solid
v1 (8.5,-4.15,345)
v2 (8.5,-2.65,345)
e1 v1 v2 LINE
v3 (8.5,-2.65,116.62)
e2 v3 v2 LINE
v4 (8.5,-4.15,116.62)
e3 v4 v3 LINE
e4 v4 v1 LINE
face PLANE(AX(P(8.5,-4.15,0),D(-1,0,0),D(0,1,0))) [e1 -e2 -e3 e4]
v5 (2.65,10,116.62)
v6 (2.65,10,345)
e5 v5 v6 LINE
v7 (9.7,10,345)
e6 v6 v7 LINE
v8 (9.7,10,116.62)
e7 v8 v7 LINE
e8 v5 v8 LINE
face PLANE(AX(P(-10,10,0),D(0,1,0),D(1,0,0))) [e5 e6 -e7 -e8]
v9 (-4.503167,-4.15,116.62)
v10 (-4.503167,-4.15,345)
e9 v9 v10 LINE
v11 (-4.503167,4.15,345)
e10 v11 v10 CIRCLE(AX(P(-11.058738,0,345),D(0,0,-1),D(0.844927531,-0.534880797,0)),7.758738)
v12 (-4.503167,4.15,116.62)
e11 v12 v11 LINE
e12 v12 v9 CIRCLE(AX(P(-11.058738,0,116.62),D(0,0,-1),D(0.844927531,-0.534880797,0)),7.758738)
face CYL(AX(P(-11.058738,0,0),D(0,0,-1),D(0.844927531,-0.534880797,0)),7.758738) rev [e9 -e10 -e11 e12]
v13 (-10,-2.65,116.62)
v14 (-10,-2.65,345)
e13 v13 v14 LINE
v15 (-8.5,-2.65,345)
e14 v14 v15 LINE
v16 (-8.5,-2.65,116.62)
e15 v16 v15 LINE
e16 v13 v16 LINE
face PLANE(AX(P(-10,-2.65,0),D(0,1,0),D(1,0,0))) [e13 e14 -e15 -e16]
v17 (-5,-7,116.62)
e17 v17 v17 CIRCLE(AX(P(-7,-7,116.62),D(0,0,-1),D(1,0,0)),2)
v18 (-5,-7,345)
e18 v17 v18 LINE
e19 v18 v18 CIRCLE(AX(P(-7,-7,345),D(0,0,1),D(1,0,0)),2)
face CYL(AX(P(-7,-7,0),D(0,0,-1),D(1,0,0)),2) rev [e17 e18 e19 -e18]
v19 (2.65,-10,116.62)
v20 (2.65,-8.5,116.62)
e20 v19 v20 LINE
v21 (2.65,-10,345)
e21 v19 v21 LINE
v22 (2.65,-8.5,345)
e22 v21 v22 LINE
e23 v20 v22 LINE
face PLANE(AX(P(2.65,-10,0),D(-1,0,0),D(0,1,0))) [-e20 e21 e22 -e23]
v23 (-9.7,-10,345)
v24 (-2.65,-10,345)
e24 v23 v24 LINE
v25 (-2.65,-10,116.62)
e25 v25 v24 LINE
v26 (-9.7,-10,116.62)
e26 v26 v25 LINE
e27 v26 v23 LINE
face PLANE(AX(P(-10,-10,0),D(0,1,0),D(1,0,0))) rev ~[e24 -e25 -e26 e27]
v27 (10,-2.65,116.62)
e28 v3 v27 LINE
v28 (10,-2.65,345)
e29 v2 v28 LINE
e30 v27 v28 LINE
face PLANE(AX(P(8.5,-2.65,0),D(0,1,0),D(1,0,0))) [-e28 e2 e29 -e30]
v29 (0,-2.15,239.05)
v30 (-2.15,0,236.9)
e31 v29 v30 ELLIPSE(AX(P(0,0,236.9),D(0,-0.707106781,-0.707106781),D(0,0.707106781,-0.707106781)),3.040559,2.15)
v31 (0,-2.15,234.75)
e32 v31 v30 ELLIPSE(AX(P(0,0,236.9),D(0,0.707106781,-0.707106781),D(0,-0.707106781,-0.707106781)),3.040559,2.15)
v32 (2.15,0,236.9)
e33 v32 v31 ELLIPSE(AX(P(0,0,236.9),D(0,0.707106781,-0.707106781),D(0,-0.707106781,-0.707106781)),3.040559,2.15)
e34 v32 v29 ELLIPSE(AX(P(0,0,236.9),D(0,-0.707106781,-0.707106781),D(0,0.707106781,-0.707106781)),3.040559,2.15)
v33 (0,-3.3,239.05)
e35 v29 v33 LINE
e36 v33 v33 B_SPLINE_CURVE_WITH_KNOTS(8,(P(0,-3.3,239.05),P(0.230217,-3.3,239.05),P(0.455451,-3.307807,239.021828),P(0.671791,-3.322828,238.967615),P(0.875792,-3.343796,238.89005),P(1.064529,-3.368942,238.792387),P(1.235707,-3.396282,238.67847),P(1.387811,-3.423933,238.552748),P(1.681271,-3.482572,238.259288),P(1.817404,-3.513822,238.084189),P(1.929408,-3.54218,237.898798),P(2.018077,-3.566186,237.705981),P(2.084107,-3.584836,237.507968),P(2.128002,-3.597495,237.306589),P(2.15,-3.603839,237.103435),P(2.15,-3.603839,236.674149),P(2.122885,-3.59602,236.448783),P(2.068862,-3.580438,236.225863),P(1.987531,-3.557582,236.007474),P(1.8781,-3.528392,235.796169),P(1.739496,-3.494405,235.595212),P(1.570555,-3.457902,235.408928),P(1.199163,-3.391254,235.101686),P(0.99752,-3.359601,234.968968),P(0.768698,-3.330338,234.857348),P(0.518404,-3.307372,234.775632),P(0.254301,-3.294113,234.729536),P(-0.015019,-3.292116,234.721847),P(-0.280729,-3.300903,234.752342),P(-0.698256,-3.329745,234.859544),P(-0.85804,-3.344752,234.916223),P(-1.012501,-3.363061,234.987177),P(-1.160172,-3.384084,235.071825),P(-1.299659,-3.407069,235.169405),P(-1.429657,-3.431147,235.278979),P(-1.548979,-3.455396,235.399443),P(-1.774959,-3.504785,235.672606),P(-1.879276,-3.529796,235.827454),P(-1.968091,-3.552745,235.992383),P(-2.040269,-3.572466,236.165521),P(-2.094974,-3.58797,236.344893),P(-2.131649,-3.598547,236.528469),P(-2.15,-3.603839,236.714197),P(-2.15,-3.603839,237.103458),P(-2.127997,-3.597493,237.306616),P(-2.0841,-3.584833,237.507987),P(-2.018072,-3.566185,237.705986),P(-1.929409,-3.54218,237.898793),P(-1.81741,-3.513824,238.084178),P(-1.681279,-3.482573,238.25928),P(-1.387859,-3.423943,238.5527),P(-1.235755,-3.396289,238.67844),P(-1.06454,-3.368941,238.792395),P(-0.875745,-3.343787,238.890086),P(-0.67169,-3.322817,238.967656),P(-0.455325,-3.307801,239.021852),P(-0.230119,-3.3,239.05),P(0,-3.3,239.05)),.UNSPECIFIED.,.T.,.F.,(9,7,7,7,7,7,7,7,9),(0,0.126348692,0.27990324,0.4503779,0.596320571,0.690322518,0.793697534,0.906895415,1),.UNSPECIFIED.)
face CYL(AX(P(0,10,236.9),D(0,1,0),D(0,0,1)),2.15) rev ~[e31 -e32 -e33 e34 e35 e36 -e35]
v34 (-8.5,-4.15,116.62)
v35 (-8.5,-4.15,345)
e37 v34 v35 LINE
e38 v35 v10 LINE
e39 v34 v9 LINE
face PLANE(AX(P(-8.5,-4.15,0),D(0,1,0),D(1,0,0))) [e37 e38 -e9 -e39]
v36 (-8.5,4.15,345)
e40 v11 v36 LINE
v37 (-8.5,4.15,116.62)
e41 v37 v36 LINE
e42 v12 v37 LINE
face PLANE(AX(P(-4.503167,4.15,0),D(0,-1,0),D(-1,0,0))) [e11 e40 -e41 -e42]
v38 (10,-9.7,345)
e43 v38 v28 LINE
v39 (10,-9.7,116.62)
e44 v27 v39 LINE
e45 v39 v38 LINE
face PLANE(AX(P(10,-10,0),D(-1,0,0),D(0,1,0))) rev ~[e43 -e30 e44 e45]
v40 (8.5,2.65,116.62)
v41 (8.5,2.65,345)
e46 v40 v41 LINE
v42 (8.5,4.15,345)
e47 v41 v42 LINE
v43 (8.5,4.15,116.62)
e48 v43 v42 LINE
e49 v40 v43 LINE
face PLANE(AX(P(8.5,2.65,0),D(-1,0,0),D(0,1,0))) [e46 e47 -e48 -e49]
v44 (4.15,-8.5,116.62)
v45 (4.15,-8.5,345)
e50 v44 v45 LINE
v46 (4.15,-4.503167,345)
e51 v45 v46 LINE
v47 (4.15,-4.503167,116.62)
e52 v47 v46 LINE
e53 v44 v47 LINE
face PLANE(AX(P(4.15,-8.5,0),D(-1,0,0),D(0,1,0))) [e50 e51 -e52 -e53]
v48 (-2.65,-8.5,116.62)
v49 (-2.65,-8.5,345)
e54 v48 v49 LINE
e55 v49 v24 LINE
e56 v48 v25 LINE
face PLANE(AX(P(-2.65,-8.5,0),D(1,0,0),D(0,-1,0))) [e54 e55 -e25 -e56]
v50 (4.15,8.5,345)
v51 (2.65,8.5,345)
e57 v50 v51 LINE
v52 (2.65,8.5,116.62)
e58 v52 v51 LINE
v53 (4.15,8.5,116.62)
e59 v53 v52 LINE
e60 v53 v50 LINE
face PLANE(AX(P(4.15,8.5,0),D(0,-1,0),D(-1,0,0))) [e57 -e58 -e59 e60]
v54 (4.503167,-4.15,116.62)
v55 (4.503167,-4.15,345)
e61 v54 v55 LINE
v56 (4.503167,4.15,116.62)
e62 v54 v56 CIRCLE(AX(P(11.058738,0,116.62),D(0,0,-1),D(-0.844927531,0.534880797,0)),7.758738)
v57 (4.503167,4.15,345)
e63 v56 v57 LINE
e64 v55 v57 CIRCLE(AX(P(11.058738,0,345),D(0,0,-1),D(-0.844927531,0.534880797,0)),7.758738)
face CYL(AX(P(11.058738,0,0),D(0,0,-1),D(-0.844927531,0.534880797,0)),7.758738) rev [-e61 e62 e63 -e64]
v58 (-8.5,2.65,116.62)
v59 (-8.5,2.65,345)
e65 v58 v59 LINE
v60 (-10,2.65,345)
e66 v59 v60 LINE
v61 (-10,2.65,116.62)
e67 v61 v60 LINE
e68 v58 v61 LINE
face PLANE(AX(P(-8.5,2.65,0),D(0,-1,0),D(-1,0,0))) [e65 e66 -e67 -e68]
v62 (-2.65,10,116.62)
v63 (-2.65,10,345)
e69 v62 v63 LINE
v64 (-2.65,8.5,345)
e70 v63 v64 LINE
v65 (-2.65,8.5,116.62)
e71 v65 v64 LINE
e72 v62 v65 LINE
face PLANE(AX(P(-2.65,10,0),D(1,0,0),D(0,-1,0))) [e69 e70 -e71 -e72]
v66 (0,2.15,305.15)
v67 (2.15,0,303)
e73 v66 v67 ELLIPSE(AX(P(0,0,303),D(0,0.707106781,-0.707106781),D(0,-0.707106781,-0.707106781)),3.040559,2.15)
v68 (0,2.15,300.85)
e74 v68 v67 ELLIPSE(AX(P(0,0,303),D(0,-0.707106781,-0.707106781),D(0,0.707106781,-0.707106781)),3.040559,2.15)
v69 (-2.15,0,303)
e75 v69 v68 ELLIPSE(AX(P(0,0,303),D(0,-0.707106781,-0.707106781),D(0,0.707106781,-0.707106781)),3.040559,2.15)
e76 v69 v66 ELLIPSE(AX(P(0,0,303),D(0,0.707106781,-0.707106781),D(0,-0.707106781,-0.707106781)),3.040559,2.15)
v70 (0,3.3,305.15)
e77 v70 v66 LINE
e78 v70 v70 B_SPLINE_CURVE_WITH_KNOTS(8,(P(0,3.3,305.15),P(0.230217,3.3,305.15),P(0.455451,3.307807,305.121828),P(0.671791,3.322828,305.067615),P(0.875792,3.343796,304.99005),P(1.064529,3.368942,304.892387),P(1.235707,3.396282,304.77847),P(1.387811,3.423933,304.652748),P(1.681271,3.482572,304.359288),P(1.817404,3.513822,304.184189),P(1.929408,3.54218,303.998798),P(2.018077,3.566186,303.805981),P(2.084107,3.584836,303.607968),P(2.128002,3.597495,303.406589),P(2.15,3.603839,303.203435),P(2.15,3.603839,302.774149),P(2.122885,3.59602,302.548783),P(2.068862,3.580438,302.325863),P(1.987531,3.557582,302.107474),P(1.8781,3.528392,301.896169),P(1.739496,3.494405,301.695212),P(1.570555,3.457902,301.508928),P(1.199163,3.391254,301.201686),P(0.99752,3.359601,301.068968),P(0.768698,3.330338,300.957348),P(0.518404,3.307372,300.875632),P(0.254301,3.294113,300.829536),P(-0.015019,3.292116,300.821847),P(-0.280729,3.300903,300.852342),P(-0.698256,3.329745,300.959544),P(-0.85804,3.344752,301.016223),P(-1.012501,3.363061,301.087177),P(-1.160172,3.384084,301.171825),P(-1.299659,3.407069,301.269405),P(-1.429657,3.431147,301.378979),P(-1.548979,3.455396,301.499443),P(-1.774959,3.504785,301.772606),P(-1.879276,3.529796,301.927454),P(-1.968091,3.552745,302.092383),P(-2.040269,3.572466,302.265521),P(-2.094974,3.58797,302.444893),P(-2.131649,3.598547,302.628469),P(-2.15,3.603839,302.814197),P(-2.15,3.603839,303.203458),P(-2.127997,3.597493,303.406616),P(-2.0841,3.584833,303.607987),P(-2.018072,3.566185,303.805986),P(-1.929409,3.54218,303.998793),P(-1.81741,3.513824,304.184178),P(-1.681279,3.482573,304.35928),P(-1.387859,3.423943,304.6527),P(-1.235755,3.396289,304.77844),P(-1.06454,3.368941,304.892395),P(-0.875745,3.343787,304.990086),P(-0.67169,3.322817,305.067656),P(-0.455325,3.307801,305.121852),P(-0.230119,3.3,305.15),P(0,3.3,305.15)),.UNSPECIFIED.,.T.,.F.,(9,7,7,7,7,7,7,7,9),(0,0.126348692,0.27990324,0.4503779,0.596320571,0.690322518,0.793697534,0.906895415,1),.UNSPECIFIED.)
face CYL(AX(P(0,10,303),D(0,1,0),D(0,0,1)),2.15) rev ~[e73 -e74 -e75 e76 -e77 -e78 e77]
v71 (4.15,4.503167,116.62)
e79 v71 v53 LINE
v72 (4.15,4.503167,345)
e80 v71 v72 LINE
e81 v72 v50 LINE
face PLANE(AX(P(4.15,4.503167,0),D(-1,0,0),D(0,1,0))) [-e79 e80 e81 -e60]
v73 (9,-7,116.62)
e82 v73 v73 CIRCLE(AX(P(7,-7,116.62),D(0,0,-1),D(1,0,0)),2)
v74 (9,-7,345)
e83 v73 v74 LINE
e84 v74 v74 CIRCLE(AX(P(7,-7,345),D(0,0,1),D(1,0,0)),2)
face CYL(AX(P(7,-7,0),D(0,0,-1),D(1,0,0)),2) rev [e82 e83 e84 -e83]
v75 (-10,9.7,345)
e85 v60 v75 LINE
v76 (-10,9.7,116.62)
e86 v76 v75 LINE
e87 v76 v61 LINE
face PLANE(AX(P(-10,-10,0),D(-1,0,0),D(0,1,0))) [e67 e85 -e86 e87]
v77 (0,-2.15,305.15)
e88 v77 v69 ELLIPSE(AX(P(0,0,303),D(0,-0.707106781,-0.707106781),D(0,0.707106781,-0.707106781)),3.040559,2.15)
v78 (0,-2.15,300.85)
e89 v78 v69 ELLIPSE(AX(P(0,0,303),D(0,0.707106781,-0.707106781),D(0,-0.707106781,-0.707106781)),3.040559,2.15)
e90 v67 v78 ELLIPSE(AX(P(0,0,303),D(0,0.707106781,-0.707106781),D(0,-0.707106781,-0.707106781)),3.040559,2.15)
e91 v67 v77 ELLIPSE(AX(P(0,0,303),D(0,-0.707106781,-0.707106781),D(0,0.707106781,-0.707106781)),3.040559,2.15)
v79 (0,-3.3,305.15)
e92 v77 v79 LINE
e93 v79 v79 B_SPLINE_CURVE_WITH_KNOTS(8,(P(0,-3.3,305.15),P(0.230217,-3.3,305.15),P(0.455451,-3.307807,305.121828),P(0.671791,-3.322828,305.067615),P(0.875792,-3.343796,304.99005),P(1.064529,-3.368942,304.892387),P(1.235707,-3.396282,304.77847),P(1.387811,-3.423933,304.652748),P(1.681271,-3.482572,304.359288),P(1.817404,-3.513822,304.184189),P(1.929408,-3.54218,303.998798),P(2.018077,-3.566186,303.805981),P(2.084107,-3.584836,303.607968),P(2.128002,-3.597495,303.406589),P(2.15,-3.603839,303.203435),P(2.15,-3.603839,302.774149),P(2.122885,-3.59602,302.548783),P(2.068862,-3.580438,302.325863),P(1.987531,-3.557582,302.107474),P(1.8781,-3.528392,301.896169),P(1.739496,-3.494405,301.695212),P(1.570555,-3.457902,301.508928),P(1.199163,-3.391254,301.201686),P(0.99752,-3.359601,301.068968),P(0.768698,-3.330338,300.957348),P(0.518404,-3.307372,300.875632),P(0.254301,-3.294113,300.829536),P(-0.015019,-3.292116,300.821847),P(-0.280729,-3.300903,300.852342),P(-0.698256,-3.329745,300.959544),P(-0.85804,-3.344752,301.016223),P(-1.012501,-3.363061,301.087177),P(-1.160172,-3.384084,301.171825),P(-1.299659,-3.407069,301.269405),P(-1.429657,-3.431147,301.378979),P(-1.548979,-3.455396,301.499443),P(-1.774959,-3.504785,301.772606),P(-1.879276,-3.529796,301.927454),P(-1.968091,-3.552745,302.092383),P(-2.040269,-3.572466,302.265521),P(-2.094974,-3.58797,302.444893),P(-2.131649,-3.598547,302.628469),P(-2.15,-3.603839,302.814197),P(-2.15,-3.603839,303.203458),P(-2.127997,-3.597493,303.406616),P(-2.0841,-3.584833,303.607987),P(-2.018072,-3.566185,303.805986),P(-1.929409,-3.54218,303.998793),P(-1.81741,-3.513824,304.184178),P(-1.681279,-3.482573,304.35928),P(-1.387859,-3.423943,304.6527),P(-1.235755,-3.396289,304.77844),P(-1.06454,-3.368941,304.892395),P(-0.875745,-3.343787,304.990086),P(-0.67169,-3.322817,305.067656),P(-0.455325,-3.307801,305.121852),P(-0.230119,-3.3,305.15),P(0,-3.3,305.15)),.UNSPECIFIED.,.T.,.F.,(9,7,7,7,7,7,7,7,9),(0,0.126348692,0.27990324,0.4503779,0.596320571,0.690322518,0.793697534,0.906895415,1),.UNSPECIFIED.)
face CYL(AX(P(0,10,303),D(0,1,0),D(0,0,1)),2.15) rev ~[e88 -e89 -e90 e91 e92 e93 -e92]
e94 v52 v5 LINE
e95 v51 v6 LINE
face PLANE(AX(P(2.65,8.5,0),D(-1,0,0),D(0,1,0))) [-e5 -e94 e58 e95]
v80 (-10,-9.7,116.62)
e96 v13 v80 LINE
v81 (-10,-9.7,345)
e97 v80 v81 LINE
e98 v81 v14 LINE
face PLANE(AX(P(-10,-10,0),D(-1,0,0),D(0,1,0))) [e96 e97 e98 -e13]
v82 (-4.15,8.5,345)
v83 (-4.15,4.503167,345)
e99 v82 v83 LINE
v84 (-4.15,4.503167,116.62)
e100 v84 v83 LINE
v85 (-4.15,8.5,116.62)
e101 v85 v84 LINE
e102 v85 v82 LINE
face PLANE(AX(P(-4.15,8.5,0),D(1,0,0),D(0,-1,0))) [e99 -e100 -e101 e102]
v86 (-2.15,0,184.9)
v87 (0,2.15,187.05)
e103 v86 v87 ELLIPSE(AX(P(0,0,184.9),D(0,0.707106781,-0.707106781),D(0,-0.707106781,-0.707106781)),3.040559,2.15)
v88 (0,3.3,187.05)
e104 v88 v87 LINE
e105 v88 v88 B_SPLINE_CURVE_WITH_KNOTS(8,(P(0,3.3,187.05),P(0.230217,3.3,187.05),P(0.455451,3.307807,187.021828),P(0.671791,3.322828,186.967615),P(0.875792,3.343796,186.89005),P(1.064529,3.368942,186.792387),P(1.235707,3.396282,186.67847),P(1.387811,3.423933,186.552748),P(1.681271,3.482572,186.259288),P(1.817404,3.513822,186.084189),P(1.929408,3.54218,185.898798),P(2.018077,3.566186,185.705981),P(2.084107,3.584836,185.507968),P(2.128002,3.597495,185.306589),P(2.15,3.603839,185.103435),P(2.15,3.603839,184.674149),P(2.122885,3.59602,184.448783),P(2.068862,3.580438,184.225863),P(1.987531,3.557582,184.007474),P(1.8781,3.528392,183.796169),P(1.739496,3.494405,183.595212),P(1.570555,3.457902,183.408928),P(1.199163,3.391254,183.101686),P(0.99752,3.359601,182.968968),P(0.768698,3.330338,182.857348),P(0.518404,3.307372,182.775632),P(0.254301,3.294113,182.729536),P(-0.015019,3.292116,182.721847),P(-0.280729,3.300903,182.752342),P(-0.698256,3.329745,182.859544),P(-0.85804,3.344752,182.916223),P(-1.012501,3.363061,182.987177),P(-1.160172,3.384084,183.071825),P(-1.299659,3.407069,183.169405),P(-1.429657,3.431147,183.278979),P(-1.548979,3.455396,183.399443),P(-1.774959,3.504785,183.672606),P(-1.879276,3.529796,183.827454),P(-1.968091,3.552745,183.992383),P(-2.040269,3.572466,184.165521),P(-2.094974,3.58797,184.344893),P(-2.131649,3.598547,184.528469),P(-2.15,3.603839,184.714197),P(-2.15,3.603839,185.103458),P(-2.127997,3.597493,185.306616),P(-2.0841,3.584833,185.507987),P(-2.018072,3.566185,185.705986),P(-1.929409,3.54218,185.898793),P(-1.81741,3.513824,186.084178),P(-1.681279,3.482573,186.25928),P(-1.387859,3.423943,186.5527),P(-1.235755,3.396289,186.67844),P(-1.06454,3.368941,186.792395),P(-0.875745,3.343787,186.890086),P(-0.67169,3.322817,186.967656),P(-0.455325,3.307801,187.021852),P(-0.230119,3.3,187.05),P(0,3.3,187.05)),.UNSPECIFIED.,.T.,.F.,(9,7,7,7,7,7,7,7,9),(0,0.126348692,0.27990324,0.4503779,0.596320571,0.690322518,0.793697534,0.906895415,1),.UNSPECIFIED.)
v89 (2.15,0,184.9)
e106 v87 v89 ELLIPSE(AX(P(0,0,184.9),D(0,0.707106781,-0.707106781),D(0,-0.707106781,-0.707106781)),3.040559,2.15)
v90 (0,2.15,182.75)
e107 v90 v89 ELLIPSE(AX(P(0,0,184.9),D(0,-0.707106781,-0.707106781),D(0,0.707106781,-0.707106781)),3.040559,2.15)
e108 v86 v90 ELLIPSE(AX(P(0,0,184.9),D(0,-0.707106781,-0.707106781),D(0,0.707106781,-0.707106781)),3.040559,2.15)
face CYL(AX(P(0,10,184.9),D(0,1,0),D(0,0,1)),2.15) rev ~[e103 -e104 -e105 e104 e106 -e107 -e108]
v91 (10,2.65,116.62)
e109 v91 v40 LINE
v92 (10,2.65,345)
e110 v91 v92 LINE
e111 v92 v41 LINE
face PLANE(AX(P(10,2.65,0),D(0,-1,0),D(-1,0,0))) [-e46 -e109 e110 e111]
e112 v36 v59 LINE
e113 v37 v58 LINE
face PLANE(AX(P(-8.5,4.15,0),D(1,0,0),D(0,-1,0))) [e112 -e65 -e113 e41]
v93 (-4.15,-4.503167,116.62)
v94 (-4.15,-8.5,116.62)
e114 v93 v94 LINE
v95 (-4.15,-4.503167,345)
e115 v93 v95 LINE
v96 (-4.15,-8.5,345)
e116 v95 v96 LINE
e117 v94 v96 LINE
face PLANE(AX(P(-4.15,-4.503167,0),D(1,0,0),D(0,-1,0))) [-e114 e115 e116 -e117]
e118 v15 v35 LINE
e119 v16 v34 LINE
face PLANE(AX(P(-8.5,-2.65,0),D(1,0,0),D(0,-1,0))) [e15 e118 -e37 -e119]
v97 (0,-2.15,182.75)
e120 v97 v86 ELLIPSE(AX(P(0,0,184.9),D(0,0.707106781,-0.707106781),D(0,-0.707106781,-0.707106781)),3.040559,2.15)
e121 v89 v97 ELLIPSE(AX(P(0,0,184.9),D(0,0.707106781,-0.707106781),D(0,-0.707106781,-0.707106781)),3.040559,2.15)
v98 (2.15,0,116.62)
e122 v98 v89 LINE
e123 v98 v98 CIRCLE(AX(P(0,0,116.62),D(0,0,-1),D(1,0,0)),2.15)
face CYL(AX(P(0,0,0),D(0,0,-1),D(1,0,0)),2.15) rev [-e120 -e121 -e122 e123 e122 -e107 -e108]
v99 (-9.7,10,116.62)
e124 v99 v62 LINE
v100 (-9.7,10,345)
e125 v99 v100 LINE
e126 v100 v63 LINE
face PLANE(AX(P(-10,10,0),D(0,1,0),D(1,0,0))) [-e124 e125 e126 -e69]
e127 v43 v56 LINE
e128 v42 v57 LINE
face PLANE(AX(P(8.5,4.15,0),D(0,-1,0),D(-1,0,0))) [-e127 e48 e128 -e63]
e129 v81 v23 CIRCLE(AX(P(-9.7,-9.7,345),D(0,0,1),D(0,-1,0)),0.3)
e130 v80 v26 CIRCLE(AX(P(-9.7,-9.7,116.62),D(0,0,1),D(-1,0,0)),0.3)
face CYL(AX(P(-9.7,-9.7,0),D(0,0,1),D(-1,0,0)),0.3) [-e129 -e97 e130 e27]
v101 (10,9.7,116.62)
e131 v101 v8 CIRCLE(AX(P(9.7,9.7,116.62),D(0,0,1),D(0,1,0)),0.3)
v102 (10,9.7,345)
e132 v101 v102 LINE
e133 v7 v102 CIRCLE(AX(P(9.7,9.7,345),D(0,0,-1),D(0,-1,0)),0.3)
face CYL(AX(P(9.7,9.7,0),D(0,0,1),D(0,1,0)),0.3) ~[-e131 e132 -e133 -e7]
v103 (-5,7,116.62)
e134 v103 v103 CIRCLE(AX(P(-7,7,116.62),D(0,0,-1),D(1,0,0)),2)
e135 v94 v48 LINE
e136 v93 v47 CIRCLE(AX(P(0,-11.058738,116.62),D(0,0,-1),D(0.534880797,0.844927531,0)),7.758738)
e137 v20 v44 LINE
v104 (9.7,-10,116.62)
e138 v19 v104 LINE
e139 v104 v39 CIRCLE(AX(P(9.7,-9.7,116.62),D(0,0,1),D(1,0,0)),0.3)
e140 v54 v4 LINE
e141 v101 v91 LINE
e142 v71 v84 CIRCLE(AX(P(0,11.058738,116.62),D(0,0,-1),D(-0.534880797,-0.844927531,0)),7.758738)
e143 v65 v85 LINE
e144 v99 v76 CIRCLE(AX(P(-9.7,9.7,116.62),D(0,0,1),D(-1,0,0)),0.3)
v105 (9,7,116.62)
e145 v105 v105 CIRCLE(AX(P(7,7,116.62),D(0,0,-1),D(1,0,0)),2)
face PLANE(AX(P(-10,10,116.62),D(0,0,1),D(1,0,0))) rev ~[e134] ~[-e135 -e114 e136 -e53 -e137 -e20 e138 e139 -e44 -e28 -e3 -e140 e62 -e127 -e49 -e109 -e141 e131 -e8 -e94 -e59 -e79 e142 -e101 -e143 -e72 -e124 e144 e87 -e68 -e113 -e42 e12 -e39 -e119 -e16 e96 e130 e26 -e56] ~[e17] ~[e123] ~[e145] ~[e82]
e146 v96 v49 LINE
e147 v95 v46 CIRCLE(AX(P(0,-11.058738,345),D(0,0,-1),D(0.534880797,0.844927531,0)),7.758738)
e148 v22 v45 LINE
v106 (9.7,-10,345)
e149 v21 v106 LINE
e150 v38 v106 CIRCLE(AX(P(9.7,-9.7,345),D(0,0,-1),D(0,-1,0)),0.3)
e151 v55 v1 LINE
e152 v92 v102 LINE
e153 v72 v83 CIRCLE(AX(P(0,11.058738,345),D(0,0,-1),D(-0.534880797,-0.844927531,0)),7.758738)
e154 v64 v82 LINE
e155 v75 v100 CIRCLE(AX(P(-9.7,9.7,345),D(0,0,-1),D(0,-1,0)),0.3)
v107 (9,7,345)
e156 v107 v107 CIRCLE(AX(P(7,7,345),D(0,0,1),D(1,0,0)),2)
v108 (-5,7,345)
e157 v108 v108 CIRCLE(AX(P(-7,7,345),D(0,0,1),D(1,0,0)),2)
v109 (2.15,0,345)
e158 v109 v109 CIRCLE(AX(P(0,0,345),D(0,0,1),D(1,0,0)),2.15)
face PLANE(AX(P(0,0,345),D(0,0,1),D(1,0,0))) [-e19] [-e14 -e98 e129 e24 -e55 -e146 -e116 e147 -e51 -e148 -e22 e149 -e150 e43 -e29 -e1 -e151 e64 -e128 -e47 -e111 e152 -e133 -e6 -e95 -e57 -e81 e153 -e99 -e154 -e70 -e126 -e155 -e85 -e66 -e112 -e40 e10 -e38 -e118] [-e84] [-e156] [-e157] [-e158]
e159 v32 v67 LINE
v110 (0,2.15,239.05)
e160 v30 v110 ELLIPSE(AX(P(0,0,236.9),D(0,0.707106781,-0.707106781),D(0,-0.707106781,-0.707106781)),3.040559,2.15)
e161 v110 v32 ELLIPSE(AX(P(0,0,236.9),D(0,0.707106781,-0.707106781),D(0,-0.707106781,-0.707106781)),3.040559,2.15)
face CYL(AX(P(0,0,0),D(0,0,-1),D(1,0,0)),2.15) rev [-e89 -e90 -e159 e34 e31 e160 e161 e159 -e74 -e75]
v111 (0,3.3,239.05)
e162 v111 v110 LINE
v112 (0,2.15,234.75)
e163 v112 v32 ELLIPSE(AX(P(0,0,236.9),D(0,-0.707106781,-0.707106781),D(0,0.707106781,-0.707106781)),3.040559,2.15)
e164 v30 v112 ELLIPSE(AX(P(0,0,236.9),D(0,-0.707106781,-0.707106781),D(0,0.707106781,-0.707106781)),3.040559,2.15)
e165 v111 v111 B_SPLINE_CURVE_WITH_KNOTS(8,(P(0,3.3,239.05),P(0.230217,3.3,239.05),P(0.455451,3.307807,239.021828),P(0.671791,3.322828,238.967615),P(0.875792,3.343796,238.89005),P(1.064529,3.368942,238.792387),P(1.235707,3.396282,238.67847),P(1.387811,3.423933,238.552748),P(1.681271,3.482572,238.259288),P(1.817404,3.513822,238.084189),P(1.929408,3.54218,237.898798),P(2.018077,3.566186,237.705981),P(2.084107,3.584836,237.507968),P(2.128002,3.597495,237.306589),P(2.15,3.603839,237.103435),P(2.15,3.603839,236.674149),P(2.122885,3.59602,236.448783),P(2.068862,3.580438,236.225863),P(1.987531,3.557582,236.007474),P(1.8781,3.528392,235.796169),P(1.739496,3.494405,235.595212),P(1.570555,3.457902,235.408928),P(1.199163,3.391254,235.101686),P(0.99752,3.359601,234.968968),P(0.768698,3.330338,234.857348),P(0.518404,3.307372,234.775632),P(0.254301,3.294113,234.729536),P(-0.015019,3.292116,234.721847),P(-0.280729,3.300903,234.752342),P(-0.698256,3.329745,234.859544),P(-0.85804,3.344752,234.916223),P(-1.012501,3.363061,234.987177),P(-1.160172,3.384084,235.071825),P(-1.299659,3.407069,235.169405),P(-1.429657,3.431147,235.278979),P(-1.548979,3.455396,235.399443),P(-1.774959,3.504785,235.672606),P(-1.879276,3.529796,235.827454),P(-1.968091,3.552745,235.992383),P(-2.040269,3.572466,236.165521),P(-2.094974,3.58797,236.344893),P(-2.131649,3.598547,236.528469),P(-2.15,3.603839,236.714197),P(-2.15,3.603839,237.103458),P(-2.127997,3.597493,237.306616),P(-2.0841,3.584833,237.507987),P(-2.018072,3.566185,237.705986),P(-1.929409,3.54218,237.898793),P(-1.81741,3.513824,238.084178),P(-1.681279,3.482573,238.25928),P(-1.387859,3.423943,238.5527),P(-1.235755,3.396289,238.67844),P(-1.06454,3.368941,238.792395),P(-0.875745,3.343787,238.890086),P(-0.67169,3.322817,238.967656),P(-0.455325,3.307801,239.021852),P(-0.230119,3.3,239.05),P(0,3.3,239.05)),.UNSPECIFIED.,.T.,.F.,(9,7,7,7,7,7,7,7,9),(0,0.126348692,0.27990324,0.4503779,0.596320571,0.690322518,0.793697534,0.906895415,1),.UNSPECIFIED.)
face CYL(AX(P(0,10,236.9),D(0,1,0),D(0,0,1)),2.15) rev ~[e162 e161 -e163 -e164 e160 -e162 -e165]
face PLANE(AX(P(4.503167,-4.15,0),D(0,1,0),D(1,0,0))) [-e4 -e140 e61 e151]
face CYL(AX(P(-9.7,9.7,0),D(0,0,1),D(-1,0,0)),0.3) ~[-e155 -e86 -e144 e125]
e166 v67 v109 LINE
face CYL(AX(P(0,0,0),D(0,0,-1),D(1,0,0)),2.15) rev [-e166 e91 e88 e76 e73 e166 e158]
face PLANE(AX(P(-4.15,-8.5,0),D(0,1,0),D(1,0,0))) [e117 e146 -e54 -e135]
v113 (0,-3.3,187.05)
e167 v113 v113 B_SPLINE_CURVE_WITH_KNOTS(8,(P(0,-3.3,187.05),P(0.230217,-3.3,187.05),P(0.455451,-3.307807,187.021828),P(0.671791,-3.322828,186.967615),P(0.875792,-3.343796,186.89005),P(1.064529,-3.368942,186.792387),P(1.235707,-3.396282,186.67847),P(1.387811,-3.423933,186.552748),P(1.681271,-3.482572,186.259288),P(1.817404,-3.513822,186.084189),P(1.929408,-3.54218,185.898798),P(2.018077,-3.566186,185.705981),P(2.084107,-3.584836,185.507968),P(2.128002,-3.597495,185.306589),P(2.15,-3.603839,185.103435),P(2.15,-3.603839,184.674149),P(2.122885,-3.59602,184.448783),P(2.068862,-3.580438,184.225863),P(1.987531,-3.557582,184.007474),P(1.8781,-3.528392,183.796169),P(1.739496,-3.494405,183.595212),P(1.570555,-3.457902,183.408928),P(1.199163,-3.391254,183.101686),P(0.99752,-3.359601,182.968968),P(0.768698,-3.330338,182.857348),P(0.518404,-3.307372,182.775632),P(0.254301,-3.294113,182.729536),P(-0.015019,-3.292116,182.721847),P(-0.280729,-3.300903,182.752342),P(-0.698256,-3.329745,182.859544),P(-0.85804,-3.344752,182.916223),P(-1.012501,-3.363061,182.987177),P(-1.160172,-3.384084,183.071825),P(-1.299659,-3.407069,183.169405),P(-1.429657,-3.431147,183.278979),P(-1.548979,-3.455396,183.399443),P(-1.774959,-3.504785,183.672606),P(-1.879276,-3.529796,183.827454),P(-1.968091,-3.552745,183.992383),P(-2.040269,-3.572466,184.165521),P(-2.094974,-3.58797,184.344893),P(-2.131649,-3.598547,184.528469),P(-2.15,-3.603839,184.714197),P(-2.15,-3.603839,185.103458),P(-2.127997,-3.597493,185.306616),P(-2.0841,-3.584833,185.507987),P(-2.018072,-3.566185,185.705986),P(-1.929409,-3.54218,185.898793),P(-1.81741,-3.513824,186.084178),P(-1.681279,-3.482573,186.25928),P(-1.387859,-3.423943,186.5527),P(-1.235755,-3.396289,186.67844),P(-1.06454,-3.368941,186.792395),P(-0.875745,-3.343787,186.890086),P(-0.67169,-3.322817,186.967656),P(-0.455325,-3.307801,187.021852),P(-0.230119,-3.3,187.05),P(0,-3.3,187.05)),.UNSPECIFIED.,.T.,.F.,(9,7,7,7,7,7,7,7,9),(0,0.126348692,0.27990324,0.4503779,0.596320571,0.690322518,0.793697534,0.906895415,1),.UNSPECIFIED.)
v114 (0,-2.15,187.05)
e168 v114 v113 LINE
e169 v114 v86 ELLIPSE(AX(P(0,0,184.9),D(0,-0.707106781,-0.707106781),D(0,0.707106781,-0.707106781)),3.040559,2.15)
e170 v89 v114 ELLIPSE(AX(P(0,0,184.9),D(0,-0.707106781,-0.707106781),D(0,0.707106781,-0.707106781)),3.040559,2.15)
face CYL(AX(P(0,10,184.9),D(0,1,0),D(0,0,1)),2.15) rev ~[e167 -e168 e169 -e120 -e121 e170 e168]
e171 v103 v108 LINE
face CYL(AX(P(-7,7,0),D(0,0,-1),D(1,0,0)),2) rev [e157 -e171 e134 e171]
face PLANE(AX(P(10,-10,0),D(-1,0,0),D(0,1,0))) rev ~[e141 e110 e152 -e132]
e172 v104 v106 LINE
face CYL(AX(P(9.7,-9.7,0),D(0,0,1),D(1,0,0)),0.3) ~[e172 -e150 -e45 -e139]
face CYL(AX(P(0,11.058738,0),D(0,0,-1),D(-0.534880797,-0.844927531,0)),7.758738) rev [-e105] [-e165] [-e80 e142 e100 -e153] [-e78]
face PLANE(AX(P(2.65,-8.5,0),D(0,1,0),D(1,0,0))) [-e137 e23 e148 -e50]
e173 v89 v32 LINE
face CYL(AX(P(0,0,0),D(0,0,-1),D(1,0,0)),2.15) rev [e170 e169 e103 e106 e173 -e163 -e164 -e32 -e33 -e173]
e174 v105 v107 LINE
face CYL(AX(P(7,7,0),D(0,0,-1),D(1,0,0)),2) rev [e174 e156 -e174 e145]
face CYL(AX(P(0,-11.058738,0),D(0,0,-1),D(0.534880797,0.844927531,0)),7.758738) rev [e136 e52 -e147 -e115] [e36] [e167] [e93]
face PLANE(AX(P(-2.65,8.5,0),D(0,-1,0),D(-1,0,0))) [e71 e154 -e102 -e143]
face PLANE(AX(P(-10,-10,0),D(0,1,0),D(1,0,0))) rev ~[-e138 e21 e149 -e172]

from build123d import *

# Parameters (mm, degrees)
SKETCH_1_W               = 20
SKETCH_1_H               = 20
SKETCH_1_R               = 2
SKETCH_1_R_2             = 2.15
EXTRUDE_1_DEPTH          = 345
CUT_EXTRUDE_1_REACH      = 347.29
PATTERN_CIRCULAR_1_COUNT = 4
FILLET_1_R               = 0.3
CUT_EXTRUDE_2_DEPTH      = 346.289733412
CUT_EXTRUDE_2_DEPTH_BACK = 346.289733412
SKETCH_2_R               = 2.5
SKETCH_4_R               = 2.15
CUT_EXTRUDE_3_DEPTH      = 346.723878361
SKETCH_6_R               = 2.15
SKETCH_6_R_2             = 1.97965
CUT_EXTRUDE_4_DEPTH      = 346.723878361
SKETCH_7_W               = 20
SKETCH_7_H               = 116.62
CUT_EXTRUDE_5_DEPTH      = 346.723878361


with BuildPart() as part:
    # 스케치1 → 보스-돌출1 (new body)
    with BuildSketch(Plane.XY):
        Rectangle(SKETCH_1_W, SKETCH_1_H)
        with Locations((-7, -7)):
            Circle(SKETCH_1_R, mode=Mode.SUBTRACT)
        with Locations((7, -7)):
            Circle(SKETCH_1_R, mode=Mode.SUBTRACT)
        with Locations((-7, 7)):
            Circle(SKETCH_1_R, mode=Mode.SUBTRACT)
        Circle(SKETCH_1_R_2, mode=Mode.SUBTRACT)
        with Locations((7, 7)):
            Circle(SKETCH_1_R, mode=Mode.SUBTRACT)
    extrude(amount=EXTRUDE_1_DEPTH)

    # 스케치1<3> → 컷-돌출1 (cut, up to next)
    with BuildSketch(Plane.XY, mode=Mode.PRIVATE) as cut_extrude_1_sk1:
        with BuildLine():
            Line((-8.5, 2.65), (-10, 2.65))
            Line((-10, 2.65), (-10, -2.65))
            Line((-10, -2.65), (-8.5, -2.65))
            Line((-8.5, -2.65), (-8.5, -4.15))
            Line((-8.5, -4.15), (-4.503166667, -4.15))
            ThreePointArc((-4.503166667, -4.15), (-3.3, 0), (-4.503166667, 4.15))
            Line((-4.503166667, 4.15), (-8.5, 4.15))
            Line((-8.5, 4.15), (-8.5, 2.65))
        make_face()
    cut_extrude_1_tool1 = extrude(cut_extrude_1_sk1.sketch, amount=CUT_EXTRUDE_1_REACH, mode=Mode.PRIVATE) & part.part
    cut_extrude_1 = cut_extrude_1_tool1.solids().sort_by_distance((-6.606913, 0, 0))[0]
    add(cut_extrude_1, mode=Mode.SUBTRACT)

    # 원형 패턴1: 컷-돌출1 ×4 about axis
    pattern_circular_1_axis = Axis((0, 0, 345), (0, 0, -1))
    for i in range(1, PATTERN_CIRCULAR_1_COUNT):
        add(cut_extrude_1.rotate(pattern_circular_1_axis, i * 360 / PATTERN_CIRCULAR_1_COUNT), mode=Mode.SUBTRACT)

    # 필렛1
    fillet_1_edges = [part.edges().sort_by_distance(p)[0] for p in [
        (10, -10, 172.5),
        (-10, -10, 172.5),
        (-10, 10, 172.5),
        (10, 10, 172.5),
    ]]
    fillet(fillet_1_edges, radius=FILLET_1_R)

    # 스케치2 → 컷-돌출2 (cut, two sides: drawn at the far end of the back side and taken through both)
    with BuildSketch(Plane(origin=(0, 0, 0), x_dir=(0, 0, -1), z_dir=(1, 0, 0)).offset(-CUT_EXTRUDE_2_DEPTH_BACK)):
        with Locations((-25, 0)):
            Circle(SKETCH_2_R)
    extrude(amount=CUT_EXTRUDE_2_DEPTH + CUT_EXTRUDE_2_DEPTH_BACK, mode=Mode.SUBTRACT)

    # 스케치4 → 컷-돌출3 (cut, through all)
    with BuildSketch(Plane(origin=(0, 10, 0), x_dir=(1, 0, 0), z_dir=(0, 1, 0))):
        with Locations((0, -303)):
            Circle(SKETCH_4_R)
    extrude(amount=-CUT_EXTRUDE_3_DEPTH, mode=Mode.SUBTRACT)

    # 스케치6 → 컷-돌출4 (cut, through all)
    with BuildSketch(Plane(origin=(0, 10, 0), x_dir=(1, 0, 0), z_dir=(0, 1, 0))):
        with Locations((0, -236.9)):
            Circle(SKETCH_6_R)
        with Locations((0, -184.9)):
            Circle(SKETCH_6_R)
        with Locations((0, -10.15)):
            Circle(SKETCH_6_R_2)
        with Locations((0, -62.15)):
            Circle(SKETCH_6_R)
    extrude(amount=-CUT_EXTRUDE_4_DEPTH, mode=Mode.SUBTRACT)

    # 스케치7 → 컷-돌출5 (cut, through all)
    with BuildSketch(Plane(origin=(0, 10, 0), x_dir=(1, 0, 0), z_dir=(0, 1, 0))):
        with Locations((0, -58.31)):
            Rectangle(SKETCH_7_W, SKETCH_7_H)
    extrude(amount=-CUT_EXTRUDE_5_DEPTH, mode=Mode.SUBTRACT)


solid = part.part
